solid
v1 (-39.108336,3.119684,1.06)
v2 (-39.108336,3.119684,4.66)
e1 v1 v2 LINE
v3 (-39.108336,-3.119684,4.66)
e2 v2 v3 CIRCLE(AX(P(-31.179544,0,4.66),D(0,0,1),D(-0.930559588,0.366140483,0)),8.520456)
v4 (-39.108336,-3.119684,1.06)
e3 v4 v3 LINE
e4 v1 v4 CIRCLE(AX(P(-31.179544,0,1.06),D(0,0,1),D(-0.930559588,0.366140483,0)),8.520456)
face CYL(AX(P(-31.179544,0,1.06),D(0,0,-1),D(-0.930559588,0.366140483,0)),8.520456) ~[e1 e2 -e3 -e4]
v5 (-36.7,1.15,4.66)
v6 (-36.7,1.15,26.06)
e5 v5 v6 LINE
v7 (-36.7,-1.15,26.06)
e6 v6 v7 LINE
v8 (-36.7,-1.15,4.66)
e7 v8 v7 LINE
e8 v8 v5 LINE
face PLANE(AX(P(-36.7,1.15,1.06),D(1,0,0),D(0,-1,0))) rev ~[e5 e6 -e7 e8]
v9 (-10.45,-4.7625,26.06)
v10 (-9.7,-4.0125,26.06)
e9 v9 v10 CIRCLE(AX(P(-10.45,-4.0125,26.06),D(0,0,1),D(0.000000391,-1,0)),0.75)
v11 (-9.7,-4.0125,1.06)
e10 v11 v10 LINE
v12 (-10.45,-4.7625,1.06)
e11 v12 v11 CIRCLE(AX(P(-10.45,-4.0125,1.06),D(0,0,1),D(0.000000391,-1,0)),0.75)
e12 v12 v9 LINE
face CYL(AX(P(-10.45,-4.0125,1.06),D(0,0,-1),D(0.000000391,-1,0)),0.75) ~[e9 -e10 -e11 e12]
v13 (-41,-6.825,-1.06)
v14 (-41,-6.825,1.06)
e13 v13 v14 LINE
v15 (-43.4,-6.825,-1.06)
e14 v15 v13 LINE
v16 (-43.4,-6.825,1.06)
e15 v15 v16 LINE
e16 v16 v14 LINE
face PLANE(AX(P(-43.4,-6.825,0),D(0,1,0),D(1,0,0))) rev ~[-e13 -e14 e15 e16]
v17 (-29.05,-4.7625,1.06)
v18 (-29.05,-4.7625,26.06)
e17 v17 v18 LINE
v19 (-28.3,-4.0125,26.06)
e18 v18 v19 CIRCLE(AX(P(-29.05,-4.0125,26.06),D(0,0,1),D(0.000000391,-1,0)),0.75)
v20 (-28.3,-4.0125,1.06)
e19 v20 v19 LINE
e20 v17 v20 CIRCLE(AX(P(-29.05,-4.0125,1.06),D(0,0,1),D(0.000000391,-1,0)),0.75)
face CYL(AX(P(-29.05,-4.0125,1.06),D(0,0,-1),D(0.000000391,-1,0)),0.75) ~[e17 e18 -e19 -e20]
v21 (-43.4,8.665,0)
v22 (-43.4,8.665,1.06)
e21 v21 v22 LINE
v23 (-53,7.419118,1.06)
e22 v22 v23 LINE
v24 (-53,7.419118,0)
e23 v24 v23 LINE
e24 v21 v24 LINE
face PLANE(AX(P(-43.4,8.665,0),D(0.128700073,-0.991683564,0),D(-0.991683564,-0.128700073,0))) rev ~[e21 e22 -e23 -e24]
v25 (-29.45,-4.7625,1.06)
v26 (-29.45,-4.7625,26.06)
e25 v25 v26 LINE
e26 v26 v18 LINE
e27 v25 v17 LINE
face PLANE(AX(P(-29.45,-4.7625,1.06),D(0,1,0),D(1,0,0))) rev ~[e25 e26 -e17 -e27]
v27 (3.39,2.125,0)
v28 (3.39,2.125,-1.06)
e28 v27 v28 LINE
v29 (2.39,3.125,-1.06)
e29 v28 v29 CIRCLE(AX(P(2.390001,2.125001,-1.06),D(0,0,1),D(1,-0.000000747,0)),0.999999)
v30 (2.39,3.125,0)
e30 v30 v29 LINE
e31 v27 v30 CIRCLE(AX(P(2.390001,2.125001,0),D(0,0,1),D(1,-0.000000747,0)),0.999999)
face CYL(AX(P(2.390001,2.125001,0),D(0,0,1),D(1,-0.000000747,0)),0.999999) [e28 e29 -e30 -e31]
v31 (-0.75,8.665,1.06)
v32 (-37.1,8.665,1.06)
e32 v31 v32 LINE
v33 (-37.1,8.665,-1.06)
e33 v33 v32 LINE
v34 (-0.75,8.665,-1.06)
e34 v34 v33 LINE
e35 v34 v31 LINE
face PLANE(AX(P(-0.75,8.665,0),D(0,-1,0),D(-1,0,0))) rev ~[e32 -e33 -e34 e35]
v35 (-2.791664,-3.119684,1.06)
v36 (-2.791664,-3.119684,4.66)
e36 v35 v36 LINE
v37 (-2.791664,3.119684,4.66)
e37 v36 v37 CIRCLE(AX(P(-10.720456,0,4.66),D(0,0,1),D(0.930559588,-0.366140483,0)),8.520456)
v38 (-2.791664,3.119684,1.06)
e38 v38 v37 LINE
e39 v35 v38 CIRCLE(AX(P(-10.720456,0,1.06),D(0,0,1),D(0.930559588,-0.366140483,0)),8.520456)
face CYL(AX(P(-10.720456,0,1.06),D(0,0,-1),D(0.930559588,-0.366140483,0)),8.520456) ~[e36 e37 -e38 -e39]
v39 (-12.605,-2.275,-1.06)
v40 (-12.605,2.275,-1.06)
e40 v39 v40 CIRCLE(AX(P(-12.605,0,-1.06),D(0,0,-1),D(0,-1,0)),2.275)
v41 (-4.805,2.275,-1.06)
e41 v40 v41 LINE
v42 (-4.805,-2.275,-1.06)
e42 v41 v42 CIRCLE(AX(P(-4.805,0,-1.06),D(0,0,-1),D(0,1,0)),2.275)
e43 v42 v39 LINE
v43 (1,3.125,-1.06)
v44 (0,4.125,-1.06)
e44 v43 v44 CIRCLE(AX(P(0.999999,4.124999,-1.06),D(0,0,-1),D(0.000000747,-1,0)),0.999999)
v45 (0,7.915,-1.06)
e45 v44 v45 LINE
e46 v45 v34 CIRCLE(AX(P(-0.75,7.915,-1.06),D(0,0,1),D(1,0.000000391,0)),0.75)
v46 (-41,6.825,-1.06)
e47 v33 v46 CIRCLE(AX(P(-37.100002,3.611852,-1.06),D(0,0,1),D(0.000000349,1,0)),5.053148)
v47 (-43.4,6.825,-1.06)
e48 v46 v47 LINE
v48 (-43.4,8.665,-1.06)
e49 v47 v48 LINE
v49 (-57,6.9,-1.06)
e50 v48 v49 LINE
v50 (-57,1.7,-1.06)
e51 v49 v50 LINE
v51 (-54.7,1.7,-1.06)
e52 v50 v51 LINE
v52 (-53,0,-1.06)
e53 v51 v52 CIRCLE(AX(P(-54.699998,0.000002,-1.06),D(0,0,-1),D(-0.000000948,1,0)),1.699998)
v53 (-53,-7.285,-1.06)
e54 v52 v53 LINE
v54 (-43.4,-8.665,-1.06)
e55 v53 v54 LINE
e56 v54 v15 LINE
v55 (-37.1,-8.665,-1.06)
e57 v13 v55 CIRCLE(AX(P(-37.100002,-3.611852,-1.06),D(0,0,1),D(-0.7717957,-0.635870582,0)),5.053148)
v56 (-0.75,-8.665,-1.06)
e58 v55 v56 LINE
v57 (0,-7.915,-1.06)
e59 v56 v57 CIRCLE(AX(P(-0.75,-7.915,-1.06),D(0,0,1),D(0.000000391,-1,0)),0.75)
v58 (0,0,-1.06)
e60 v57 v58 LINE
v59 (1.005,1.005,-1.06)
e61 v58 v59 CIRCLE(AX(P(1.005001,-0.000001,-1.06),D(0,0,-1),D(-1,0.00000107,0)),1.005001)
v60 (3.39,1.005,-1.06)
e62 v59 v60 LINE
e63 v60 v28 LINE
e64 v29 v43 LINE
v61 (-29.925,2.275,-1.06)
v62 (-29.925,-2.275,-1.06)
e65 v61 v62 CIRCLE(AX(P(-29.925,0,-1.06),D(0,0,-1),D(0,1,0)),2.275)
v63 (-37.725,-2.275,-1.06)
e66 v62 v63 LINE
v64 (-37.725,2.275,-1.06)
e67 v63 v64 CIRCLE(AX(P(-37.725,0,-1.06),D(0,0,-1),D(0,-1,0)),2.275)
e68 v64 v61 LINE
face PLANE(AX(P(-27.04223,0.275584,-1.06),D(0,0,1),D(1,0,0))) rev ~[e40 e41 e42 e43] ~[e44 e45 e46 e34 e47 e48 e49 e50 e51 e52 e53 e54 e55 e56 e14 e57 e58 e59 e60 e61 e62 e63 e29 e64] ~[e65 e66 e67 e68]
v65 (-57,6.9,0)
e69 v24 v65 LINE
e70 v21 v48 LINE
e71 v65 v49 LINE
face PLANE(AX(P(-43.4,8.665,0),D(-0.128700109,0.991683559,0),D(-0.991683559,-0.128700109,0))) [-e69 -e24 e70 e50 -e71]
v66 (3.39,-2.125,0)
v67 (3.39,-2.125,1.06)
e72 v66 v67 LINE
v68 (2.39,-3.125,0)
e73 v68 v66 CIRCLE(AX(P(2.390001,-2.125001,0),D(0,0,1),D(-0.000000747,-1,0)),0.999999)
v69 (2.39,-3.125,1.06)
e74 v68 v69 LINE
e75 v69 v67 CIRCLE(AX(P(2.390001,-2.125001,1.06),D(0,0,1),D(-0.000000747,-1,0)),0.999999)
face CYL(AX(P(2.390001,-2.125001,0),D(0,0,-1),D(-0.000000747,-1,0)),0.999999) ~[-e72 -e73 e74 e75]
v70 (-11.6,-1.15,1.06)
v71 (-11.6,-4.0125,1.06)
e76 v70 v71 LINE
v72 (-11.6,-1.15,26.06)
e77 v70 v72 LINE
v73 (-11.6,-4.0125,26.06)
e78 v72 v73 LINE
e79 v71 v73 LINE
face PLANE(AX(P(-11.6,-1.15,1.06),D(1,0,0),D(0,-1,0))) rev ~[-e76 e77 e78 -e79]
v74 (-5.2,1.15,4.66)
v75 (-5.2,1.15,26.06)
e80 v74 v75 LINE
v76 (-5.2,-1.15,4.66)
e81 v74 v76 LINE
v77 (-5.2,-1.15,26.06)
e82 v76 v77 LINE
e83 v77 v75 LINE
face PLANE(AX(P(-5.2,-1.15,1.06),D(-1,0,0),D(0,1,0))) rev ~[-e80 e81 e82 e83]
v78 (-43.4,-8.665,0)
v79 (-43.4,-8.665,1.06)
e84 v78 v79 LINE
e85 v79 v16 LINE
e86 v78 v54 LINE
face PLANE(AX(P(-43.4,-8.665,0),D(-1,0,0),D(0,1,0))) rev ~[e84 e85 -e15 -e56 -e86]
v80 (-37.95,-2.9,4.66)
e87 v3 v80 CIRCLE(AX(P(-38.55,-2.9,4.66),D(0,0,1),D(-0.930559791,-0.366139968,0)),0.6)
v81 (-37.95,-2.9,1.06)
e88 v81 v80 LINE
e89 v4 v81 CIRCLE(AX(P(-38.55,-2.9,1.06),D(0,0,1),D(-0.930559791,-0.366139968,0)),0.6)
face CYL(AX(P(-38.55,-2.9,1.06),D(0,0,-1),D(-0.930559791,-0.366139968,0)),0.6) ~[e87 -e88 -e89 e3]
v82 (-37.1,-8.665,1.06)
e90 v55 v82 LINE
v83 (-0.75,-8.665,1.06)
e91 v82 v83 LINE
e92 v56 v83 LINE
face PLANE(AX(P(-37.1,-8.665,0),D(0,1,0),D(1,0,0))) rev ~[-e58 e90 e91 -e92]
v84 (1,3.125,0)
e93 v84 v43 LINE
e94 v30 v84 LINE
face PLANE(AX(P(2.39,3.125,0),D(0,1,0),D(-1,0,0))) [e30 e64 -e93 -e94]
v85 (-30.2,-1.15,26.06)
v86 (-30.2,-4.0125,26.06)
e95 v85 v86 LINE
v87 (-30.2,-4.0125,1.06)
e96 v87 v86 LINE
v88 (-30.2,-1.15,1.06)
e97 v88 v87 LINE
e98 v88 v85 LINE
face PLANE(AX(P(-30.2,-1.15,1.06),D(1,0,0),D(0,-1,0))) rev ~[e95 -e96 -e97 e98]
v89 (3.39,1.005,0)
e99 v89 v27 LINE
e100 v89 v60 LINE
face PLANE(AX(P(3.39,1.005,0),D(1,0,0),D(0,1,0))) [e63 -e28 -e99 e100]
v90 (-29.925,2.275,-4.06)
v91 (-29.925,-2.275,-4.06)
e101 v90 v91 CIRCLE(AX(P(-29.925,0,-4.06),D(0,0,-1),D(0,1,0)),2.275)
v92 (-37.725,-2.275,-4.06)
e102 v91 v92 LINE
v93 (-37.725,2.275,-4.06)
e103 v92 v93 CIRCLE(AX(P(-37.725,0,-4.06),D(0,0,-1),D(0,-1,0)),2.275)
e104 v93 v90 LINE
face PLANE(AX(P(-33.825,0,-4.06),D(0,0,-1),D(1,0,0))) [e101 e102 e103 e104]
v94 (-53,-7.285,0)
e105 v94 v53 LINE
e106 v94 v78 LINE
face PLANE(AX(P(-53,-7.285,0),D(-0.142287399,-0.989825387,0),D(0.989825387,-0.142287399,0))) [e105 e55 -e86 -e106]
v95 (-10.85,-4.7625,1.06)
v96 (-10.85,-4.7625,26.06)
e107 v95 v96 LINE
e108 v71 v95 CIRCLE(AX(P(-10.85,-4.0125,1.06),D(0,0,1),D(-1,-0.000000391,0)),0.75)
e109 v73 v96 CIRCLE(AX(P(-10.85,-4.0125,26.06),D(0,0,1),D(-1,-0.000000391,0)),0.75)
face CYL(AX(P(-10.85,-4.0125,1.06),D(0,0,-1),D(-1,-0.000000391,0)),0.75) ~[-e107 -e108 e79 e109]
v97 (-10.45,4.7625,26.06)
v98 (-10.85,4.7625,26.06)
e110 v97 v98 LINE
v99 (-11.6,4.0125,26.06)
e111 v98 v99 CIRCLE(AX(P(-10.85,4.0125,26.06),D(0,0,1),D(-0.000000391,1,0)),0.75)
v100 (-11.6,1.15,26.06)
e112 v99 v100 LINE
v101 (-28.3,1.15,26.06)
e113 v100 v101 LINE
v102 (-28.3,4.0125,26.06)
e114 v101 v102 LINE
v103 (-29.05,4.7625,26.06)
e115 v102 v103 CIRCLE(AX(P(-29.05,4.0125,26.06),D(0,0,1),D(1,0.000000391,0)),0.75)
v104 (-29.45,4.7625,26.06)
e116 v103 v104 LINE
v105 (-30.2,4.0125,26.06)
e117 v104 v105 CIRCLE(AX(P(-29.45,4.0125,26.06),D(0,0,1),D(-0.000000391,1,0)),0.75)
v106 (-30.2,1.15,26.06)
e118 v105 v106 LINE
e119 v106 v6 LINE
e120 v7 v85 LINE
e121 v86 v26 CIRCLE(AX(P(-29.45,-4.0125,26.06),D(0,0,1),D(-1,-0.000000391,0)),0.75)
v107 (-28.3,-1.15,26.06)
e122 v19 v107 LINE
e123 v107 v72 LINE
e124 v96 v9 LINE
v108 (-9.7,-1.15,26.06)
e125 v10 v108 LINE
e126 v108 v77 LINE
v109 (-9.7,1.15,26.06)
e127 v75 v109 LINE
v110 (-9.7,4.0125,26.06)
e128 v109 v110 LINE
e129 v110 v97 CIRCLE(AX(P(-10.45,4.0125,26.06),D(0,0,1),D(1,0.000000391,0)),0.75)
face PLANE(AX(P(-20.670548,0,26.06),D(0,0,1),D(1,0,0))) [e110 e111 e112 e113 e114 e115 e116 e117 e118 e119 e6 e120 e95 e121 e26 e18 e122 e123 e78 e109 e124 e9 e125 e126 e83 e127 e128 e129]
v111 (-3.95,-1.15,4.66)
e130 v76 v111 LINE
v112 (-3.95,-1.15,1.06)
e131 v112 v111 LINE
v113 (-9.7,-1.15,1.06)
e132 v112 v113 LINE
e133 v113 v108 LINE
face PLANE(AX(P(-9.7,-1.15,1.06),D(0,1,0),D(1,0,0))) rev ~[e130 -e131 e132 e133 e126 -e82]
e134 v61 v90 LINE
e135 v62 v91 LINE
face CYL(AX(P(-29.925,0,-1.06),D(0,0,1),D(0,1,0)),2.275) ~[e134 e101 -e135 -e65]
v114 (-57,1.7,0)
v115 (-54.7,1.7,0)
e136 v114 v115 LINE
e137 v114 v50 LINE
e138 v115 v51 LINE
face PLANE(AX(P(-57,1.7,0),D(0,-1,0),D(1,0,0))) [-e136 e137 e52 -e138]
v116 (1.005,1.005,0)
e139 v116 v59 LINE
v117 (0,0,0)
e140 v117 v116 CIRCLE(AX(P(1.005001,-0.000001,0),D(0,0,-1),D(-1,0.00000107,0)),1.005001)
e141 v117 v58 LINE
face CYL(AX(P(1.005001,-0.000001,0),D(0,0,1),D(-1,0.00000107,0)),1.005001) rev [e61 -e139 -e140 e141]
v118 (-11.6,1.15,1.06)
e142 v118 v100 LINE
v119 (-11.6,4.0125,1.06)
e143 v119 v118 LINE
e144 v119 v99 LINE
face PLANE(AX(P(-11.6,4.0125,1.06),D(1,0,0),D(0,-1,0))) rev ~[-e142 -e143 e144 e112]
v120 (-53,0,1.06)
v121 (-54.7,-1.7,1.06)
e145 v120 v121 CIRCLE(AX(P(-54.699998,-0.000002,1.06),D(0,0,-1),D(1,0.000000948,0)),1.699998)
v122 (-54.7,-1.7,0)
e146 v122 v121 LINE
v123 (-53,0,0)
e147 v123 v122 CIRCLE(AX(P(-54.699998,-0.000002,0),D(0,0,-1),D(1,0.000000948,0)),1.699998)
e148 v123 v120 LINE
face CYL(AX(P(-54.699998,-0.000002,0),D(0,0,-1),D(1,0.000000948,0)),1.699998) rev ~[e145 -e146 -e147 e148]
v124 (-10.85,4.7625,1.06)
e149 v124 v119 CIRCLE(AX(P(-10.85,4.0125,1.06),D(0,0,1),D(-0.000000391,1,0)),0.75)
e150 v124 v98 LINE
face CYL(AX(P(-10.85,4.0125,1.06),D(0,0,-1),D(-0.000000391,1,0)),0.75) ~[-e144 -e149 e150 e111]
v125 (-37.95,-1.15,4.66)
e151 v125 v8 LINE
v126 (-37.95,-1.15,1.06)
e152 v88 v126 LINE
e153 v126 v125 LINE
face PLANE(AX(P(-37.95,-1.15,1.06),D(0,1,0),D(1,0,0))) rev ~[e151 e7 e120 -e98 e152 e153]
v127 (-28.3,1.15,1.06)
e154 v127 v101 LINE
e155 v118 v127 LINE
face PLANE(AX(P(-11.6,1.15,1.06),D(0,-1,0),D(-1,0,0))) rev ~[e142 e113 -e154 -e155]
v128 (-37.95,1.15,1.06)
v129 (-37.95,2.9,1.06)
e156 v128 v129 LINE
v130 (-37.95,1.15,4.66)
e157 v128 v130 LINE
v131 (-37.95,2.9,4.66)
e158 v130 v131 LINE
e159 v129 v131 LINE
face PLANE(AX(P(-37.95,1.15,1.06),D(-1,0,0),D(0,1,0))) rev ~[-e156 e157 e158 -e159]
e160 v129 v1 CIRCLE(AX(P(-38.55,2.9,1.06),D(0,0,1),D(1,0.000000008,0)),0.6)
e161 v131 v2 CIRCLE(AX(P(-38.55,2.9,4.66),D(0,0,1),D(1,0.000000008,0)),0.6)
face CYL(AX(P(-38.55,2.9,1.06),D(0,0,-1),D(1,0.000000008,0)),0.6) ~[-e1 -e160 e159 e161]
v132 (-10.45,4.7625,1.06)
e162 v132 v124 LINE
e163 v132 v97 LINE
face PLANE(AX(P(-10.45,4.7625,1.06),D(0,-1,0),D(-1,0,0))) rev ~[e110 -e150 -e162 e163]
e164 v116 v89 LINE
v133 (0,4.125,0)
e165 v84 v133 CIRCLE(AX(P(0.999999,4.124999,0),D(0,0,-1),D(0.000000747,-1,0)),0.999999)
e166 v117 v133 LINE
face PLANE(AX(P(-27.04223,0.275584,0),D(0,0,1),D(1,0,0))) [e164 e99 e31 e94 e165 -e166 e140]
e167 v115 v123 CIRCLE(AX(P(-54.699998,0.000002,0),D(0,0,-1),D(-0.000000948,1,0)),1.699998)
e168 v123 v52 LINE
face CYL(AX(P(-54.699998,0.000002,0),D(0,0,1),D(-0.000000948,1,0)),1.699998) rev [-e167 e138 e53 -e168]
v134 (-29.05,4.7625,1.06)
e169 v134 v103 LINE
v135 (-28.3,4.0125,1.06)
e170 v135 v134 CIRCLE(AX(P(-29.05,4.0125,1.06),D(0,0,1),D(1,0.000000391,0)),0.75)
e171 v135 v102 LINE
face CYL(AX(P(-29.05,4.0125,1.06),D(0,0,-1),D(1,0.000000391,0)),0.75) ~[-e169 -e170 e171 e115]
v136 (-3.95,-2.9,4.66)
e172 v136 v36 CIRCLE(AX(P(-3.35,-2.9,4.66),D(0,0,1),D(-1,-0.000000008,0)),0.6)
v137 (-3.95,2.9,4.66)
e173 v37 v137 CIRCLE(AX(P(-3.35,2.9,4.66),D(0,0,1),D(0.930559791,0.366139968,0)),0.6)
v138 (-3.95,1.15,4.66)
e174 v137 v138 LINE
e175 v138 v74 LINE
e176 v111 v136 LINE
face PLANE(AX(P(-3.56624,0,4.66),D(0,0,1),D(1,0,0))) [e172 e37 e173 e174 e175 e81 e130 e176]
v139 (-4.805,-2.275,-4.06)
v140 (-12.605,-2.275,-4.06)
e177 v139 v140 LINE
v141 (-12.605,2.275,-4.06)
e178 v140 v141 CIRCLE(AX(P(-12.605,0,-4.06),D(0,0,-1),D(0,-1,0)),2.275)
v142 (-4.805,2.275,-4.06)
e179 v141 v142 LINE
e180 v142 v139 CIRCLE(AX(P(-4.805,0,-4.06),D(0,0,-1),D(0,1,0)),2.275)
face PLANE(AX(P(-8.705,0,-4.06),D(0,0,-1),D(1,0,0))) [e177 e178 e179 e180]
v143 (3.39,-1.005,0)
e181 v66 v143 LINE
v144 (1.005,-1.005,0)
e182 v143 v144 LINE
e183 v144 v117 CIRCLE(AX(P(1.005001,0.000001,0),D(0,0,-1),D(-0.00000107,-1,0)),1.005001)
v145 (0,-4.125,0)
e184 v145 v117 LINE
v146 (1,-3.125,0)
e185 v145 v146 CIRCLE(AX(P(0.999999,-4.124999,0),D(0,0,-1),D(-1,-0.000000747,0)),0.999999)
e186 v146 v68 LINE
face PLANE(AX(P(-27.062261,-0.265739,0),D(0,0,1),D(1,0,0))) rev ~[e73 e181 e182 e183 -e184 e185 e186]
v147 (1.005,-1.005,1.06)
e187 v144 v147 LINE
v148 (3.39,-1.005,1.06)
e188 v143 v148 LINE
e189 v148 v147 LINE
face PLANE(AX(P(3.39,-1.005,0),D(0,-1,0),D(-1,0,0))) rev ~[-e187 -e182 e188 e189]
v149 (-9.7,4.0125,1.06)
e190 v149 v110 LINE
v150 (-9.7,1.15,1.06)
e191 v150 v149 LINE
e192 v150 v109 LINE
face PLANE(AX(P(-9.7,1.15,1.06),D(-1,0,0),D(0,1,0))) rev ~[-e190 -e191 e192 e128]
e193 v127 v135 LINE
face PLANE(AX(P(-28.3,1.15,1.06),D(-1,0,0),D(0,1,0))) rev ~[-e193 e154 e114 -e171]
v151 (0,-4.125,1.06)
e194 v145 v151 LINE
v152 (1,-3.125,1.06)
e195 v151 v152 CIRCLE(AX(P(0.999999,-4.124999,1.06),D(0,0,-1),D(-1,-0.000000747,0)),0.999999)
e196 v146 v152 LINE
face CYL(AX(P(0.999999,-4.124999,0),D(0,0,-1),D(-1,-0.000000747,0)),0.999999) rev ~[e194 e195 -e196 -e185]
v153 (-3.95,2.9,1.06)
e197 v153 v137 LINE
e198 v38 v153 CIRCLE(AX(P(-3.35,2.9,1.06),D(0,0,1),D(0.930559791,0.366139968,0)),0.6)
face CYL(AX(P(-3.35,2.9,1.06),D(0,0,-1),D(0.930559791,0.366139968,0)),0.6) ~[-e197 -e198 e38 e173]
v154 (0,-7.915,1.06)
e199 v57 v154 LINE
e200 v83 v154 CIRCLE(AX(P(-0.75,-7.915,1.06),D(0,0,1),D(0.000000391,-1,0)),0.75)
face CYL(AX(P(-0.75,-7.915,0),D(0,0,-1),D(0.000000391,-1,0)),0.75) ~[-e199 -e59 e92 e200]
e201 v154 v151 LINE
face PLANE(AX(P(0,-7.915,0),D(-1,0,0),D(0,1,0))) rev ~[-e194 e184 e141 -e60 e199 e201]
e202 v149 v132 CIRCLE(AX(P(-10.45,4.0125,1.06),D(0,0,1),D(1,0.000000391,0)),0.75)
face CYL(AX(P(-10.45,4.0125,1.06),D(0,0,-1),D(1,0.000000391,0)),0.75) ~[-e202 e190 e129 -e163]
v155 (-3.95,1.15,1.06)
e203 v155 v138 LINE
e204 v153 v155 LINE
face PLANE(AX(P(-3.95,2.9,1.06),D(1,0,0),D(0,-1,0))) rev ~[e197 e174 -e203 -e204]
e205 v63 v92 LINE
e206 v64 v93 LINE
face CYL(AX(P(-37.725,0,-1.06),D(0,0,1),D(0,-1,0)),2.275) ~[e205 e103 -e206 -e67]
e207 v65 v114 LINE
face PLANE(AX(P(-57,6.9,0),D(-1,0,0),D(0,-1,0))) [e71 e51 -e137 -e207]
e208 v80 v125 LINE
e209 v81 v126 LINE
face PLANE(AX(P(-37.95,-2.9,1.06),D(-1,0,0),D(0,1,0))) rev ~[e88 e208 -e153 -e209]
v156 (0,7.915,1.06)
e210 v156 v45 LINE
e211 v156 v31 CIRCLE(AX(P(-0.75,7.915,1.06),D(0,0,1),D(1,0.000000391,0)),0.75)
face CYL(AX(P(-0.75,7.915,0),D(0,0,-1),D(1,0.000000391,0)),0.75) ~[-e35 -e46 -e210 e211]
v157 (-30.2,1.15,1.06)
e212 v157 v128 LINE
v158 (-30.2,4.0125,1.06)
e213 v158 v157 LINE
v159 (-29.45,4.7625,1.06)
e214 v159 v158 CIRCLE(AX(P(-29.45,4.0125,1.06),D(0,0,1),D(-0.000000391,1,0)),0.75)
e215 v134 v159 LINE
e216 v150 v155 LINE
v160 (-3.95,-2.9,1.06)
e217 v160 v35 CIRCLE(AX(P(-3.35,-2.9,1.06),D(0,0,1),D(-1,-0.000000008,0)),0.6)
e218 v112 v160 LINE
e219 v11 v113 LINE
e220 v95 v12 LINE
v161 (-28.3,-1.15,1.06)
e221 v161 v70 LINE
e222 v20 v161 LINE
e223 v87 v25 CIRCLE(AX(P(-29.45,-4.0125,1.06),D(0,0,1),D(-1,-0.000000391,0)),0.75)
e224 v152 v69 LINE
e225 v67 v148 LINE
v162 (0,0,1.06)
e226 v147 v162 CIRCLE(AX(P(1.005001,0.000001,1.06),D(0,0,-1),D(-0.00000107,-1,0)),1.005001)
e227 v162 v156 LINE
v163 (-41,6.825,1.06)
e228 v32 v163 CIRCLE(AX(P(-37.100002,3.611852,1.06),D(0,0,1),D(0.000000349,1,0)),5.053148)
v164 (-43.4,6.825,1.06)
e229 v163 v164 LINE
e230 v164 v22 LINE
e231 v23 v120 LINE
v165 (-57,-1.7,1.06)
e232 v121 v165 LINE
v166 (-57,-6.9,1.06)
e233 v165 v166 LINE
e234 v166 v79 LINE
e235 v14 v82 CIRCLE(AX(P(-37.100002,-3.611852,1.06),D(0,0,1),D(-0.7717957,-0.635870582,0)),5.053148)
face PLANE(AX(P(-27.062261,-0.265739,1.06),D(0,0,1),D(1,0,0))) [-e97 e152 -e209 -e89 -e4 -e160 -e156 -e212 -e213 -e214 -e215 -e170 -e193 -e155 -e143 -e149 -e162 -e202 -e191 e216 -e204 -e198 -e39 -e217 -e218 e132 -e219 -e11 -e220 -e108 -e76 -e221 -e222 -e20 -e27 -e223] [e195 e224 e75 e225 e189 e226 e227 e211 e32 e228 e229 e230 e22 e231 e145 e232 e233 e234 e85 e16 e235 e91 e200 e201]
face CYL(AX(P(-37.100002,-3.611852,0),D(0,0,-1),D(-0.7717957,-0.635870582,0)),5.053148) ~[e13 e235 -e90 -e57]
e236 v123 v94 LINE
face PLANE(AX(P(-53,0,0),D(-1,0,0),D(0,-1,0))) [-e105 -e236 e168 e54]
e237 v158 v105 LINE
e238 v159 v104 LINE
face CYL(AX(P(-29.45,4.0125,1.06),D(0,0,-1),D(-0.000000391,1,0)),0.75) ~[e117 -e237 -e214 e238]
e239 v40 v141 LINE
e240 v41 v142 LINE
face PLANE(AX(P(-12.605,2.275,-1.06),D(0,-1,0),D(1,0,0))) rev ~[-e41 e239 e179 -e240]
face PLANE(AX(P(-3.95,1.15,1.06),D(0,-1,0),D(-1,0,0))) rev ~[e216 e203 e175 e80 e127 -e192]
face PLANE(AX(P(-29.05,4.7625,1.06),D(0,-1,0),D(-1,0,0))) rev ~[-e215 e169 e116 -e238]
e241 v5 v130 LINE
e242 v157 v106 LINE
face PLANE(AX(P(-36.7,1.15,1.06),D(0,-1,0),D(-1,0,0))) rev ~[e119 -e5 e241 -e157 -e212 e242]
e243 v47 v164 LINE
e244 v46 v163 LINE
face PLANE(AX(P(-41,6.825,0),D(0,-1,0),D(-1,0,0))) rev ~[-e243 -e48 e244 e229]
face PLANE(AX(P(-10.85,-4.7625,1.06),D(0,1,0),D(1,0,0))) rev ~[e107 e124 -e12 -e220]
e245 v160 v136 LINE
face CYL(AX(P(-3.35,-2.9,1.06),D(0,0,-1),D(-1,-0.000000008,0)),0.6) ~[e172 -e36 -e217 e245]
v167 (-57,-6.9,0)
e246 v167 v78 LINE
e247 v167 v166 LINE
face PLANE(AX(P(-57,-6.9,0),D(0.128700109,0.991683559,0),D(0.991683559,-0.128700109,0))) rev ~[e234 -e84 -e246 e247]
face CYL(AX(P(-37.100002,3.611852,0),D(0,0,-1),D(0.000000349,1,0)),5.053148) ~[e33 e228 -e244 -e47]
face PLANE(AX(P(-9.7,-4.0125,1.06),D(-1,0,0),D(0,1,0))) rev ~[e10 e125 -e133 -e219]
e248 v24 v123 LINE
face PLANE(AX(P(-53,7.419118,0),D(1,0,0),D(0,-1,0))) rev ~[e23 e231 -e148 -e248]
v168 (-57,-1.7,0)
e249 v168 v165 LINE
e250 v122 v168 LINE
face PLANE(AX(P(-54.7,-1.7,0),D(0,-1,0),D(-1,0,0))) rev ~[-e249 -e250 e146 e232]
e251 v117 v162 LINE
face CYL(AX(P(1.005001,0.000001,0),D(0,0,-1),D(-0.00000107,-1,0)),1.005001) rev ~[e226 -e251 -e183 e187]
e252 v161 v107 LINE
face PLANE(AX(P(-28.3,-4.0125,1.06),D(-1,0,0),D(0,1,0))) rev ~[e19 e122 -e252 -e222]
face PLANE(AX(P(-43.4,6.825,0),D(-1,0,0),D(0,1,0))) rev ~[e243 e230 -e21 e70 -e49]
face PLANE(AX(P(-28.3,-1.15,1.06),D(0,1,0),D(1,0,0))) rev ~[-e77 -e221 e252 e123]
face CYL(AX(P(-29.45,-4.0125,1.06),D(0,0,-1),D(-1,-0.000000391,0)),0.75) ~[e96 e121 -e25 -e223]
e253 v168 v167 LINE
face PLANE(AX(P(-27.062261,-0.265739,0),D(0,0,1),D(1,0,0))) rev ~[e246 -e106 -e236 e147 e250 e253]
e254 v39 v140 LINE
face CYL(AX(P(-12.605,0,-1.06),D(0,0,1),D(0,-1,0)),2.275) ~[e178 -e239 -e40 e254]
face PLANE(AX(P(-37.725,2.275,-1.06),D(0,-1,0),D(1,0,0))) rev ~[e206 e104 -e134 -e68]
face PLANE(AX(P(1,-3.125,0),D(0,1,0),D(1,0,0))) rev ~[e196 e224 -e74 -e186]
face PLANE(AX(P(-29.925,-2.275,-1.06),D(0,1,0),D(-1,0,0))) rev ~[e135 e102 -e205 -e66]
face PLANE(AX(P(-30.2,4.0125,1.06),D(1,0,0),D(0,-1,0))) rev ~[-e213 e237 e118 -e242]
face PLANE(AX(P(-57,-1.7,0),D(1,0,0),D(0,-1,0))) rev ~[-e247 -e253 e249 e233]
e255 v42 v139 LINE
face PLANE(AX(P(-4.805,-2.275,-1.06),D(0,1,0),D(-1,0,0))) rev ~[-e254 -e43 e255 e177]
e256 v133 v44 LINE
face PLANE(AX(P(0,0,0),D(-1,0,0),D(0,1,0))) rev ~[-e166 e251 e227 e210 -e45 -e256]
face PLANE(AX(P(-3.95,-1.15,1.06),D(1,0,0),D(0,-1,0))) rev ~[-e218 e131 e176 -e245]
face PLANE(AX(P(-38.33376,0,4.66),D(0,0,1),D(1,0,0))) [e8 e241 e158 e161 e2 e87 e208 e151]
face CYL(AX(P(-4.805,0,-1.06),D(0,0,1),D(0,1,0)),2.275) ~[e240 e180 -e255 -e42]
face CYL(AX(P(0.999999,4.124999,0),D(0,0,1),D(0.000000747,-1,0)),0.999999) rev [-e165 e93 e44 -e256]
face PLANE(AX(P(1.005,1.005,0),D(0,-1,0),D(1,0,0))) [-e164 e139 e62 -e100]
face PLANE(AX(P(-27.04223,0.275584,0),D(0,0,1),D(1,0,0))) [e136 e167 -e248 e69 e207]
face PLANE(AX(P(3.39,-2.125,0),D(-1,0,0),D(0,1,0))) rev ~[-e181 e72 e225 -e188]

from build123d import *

# Parameters (mm, degrees)
F1_DEPTH = 1.06
F3_DEPTH = 1.06
F5_DEPTH = 3
F7_DEPTH = 25
F9_DEPTH = 3.6


with BuildPart() as f1:
    # F0 (on Top) → F1 (new body)
    with BuildSketch(Plane.XY):
        with BuildLine():
            ThreePointArc((-41, -6.825), (-39.256131, -8.181908), (-37.1, -8.665))
            Line((-37.1, -8.665), (-0.75, -8.665))
            ThreePointArc((-0.75, -8.665), (-0.21967, -8.44533), (0, -7.915))
            Line((0, -7.915), (0, 0))
            ThreePointArc((0, 0), (0.294358, 0.710642), (1.005, 1.005))
            Line((1.005, 1.005), (3.39, 1.005))
            Line((3.39, 1.005), (3.39, 2.125))
            ThreePointArc((3.39, 2.125), (3.097107, 2.832107), (2.39, 3.125))
            Line((2.39, 3.125), (1, 3.125))
            ThreePointArc((1, 3.125), (0.292893, 3.417893), (0, 4.125))
            Line((0, 4.125), (0, 7.915))
            ThreePointArc((0, 7.915), (-0.21967, 8.44533), (-0.75, 8.665))
            Line((-0.75, 8.665), (-37.1, 8.665))
            ThreePointArc((-37.1, 8.665), (-39.256131, 8.181908), (-41, 6.825))
            Line((-41, 6.825), (-43.4, 6.825))
            Line((-43.4, 6.825), (-43.4, 8.665))
            Line((-43.4, 8.665), (-57, 6.9))
            Line((-57, 6.9), (-57, 1.7))
            Line((-57, 1.7), (-54.7, 1.7))
            ThreePointArc((-54.7, 1.7), (-53.497918, 1.202082), (-53, 0))
            Line((-53, 0), (-53, -7.285))
            Line((-53, -7.285), (-43.4, -8.665))
            Line((-43.4, -8.665), (-43.4, -6.825))
            Line((-43.4, -6.825), (-41, -6.825))
        make_face()
    extrude(amount=-F1_DEPTH)

    # F2 (on face) → F3 (join)
    with BuildSketch(Plane.XY):
        with BuildLine():
            ThreePointArc((0, 7.915), (-0.21967, 8.44533), (-0.75, 8.665))
            Line((-0.75, 8.665), (-37.1, 8.665))
            ThreePointArc((-37.1, 8.665), (-39.256131, 8.181908), (-41, 6.825))
            Line((-41, 6.825), (-43.4, 6.825))
            Line((-43.4, 6.825), (-43.4, 8.665))
            Line((-43.4, 8.665), (-53, 7.419118))
            Line((-53, 7.419118), (-53, 0))
            ThreePointArc((-53, 0), (-53.497918, -1.202082), (-54.7, -1.7))
            Line((-54.7, -1.7), (-57, -1.7))
            Line((-57, -1.7), (-57, -6.9))
            Line((-57, -6.9), (-43.4, -8.665))
            Line((-43.4, -8.665), (-43.4, -6.825))
            Line((-43.4, -6.825), (-41, -6.825))
            ThreePointArc((-41, -6.825), (-39.256131, -8.181908), (-37.1, -8.665))
            Line((-37.1, -8.665), (-0.75, -8.665))
            ThreePointArc((-0.75, -8.665), (-0.21967, -8.44533), (0, -7.915))
            Line((0, -7.915), (0, -4.125))
            ThreePointArc((0, -4.125), (0.292893, -3.417893), (1, -3.125))
            Line((1, -3.125), (2.39, -3.125))
            ThreePointArc((2.39, -3.125), (3.097107, -2.832107), (3.39, -2.125))
            Line((3.39, -2.125), (3.39, -1.005))
            Line((3.39, -1.005), (1.005, -1.005))
            ThreePointArc((1.005, -1.005), (0.294358, -0.710642), (0, 0))
            Line((0, 0), (0, 7.915))
        make_face()
    extrude(amount=F3_DEPTH)

    # F4 (on face) → F5 (join)
    with BuildSketch(Plane(origin=(0, 0, -1.06), x_dir=(1, 0, 0), z_dir=(0, 0, -1))):
        with BuildLine():
            Line((-29.925, 2.275), (-37.725, 2.275))
            ThreePointArc((-37.725, 2.275), (-40, 0), (-37.725, -2.275))
            Line((-37.725, -2.275), (-29.925, -2.275))
            ThreePointArc((-29.925, -2.275), (-27.65, 0), (-29.925, 2.275))
        make_face()
        with BuildLine():
            Line((-4.805, 2.275), (-12.605, 2.275))
            ThreePointArc((-12.605, 2.275), (-14.88, 0), (-12.605, -2.275))
            Line((-12.605, -2.275), (-4.805, -2.275))
            ThreePointArc((-4.805, -2.275), (-2.53, 0), (-4.805, 2.275))
        make_face()
    extrude(amount=F5_DEPTH)

    # F6 (on face) → F7 (join)
    with BuildSketch(Plane.XY.offset(1.06)):
        with BuildLine():
            Line((-30.2, 1.15), (-36.7, 1.15))
            Line((-36.7, 1.15), (-36.7, -1.15))
            Line((-36.7, -1.15), (-30.2, -1.15))
            Line((-30.2, -1.15), (-30.2, -4.0125))
            ThreePointArc((-30.2, -4.0125), (-29.98033, -4.54283), (-29.45, -4.7625))
            Line((-29.45, -4.7625), (-29.05, -4.7625))
            ThreePointArc((-29.05, -4.7625), (-28.51967, -4.54283), (-28.3, -4.0125))
            Line((-28.3, -4.0125), (-28.3, -1.15))
            Line((-28.3, -1.15), (-11.6, -1.15))
            Line((-11.6, -1.15), (-11.6, -4.0125))
            ThreePointArc((-11.6, -4.0125), (-11.38033, -4.54283), (-10.85, -4.7625))
            Line((-10.85, -4.7625), (-10.45, -4.7625))
            ThreePointArc((-10.45, -4.7625), (-9.91967, -4.54283), (-9.7, -4.0125))
            Line((-9.7, -4.0125), (-9.7, -1.15))
            Line((-9.7, -1.15), (-5.2, -1.15))
            Line((-5.2, -1.15), (-5.2, 1.15))
            Line((-5.2, 1.15), (-9.7, 1.15))
            Line((-9.7, 1.15), (-9.7, 4.0125))
            ThreePointArc((-9.7, 4.0125), (-9.91967, 4.54283), (-10.45, 4.7625))
            Line((-10.45, 4.7625), (-10.85, 4.7625))
            ThreePointArc((-10.85, 4.7625), (-11.38033, 4.54283), (-11.6, 4.0125))
            Line((-11.6, 4.0125), (-11.6, 1.15))
            Line((-11.6, 1.15), (-28.3, 1.15))
            Line((-28.3, 1.15), (-28.3, 4.0125))
            ThreePointArc((-28.3, 4.0125), (-28.51967, 4.54283), (-29.05, 4.7625))
            Line((-29.05, 4.7625), (-29.45, 4.7625))
            ThreePointArc((-29.45, 4.7625), (-29.98033, 4.54283), (-30.2, 4.0125))
            Line((-30.2, 4.0125), (-30.2, 1.15))
        make_face()
    extrude(amount=F7_DEPTH)

    # F8 (on face) → F9 (join)
    with BuildSketch(Plane.XY.offset(1.06)):
        with BuildLine():
            Line((-37.95, 1.15), (-37.95, 2.9))
            ThreePointArc((-37.95, 2.9), (-38.4382, 3.489492), (-39.108336, 3.119684))
            ThreePointArc((-39.108336, 3.119684), (-39.7, 0), (-39.108336, -3.119684))
            ThreePointArc((-39.108336, -3.119684), (-38.4382, -3.489492), (-37.95, -2.9))
            Line((-37.95, -2.9), (-37.95, -1.15))
            Line((-37.95, -1.15), (-36.7, -1.15))
            Line((-36.7, -1.15), (-36.7, 1.15))
            Line((-36.7, 1.15), (-37.95, 1.15))
        make_face()
        with BuildLine():
            Line((-5.2, -1.15), (-3.95, -1.15))
            Line((-3.95, -1.15), (-3.95, -2.9))
            ThreePointArc((-3.95, -2.9), (-3.4618, -3.489492), (-2.791664, -3.119684))
            ThreePointArc((-2.791664, -3.119684), (-2.2, 0), (-2.791664, 3.119684))
            ThreePointArc((-2.791664, 3.119684), (-3.4618, 3.489492), (-3.95, 2.9))
            Line((-3.95, 2.9), (-3.95, 1.15))
            Line((-3.95, 1.15), (-5.2, 1.15))
            Line((-5.2, 1.15), (-5.2, -1.15))
        make_face()
    extrude(amount=F9_DEPTH)


solid = f1.part
